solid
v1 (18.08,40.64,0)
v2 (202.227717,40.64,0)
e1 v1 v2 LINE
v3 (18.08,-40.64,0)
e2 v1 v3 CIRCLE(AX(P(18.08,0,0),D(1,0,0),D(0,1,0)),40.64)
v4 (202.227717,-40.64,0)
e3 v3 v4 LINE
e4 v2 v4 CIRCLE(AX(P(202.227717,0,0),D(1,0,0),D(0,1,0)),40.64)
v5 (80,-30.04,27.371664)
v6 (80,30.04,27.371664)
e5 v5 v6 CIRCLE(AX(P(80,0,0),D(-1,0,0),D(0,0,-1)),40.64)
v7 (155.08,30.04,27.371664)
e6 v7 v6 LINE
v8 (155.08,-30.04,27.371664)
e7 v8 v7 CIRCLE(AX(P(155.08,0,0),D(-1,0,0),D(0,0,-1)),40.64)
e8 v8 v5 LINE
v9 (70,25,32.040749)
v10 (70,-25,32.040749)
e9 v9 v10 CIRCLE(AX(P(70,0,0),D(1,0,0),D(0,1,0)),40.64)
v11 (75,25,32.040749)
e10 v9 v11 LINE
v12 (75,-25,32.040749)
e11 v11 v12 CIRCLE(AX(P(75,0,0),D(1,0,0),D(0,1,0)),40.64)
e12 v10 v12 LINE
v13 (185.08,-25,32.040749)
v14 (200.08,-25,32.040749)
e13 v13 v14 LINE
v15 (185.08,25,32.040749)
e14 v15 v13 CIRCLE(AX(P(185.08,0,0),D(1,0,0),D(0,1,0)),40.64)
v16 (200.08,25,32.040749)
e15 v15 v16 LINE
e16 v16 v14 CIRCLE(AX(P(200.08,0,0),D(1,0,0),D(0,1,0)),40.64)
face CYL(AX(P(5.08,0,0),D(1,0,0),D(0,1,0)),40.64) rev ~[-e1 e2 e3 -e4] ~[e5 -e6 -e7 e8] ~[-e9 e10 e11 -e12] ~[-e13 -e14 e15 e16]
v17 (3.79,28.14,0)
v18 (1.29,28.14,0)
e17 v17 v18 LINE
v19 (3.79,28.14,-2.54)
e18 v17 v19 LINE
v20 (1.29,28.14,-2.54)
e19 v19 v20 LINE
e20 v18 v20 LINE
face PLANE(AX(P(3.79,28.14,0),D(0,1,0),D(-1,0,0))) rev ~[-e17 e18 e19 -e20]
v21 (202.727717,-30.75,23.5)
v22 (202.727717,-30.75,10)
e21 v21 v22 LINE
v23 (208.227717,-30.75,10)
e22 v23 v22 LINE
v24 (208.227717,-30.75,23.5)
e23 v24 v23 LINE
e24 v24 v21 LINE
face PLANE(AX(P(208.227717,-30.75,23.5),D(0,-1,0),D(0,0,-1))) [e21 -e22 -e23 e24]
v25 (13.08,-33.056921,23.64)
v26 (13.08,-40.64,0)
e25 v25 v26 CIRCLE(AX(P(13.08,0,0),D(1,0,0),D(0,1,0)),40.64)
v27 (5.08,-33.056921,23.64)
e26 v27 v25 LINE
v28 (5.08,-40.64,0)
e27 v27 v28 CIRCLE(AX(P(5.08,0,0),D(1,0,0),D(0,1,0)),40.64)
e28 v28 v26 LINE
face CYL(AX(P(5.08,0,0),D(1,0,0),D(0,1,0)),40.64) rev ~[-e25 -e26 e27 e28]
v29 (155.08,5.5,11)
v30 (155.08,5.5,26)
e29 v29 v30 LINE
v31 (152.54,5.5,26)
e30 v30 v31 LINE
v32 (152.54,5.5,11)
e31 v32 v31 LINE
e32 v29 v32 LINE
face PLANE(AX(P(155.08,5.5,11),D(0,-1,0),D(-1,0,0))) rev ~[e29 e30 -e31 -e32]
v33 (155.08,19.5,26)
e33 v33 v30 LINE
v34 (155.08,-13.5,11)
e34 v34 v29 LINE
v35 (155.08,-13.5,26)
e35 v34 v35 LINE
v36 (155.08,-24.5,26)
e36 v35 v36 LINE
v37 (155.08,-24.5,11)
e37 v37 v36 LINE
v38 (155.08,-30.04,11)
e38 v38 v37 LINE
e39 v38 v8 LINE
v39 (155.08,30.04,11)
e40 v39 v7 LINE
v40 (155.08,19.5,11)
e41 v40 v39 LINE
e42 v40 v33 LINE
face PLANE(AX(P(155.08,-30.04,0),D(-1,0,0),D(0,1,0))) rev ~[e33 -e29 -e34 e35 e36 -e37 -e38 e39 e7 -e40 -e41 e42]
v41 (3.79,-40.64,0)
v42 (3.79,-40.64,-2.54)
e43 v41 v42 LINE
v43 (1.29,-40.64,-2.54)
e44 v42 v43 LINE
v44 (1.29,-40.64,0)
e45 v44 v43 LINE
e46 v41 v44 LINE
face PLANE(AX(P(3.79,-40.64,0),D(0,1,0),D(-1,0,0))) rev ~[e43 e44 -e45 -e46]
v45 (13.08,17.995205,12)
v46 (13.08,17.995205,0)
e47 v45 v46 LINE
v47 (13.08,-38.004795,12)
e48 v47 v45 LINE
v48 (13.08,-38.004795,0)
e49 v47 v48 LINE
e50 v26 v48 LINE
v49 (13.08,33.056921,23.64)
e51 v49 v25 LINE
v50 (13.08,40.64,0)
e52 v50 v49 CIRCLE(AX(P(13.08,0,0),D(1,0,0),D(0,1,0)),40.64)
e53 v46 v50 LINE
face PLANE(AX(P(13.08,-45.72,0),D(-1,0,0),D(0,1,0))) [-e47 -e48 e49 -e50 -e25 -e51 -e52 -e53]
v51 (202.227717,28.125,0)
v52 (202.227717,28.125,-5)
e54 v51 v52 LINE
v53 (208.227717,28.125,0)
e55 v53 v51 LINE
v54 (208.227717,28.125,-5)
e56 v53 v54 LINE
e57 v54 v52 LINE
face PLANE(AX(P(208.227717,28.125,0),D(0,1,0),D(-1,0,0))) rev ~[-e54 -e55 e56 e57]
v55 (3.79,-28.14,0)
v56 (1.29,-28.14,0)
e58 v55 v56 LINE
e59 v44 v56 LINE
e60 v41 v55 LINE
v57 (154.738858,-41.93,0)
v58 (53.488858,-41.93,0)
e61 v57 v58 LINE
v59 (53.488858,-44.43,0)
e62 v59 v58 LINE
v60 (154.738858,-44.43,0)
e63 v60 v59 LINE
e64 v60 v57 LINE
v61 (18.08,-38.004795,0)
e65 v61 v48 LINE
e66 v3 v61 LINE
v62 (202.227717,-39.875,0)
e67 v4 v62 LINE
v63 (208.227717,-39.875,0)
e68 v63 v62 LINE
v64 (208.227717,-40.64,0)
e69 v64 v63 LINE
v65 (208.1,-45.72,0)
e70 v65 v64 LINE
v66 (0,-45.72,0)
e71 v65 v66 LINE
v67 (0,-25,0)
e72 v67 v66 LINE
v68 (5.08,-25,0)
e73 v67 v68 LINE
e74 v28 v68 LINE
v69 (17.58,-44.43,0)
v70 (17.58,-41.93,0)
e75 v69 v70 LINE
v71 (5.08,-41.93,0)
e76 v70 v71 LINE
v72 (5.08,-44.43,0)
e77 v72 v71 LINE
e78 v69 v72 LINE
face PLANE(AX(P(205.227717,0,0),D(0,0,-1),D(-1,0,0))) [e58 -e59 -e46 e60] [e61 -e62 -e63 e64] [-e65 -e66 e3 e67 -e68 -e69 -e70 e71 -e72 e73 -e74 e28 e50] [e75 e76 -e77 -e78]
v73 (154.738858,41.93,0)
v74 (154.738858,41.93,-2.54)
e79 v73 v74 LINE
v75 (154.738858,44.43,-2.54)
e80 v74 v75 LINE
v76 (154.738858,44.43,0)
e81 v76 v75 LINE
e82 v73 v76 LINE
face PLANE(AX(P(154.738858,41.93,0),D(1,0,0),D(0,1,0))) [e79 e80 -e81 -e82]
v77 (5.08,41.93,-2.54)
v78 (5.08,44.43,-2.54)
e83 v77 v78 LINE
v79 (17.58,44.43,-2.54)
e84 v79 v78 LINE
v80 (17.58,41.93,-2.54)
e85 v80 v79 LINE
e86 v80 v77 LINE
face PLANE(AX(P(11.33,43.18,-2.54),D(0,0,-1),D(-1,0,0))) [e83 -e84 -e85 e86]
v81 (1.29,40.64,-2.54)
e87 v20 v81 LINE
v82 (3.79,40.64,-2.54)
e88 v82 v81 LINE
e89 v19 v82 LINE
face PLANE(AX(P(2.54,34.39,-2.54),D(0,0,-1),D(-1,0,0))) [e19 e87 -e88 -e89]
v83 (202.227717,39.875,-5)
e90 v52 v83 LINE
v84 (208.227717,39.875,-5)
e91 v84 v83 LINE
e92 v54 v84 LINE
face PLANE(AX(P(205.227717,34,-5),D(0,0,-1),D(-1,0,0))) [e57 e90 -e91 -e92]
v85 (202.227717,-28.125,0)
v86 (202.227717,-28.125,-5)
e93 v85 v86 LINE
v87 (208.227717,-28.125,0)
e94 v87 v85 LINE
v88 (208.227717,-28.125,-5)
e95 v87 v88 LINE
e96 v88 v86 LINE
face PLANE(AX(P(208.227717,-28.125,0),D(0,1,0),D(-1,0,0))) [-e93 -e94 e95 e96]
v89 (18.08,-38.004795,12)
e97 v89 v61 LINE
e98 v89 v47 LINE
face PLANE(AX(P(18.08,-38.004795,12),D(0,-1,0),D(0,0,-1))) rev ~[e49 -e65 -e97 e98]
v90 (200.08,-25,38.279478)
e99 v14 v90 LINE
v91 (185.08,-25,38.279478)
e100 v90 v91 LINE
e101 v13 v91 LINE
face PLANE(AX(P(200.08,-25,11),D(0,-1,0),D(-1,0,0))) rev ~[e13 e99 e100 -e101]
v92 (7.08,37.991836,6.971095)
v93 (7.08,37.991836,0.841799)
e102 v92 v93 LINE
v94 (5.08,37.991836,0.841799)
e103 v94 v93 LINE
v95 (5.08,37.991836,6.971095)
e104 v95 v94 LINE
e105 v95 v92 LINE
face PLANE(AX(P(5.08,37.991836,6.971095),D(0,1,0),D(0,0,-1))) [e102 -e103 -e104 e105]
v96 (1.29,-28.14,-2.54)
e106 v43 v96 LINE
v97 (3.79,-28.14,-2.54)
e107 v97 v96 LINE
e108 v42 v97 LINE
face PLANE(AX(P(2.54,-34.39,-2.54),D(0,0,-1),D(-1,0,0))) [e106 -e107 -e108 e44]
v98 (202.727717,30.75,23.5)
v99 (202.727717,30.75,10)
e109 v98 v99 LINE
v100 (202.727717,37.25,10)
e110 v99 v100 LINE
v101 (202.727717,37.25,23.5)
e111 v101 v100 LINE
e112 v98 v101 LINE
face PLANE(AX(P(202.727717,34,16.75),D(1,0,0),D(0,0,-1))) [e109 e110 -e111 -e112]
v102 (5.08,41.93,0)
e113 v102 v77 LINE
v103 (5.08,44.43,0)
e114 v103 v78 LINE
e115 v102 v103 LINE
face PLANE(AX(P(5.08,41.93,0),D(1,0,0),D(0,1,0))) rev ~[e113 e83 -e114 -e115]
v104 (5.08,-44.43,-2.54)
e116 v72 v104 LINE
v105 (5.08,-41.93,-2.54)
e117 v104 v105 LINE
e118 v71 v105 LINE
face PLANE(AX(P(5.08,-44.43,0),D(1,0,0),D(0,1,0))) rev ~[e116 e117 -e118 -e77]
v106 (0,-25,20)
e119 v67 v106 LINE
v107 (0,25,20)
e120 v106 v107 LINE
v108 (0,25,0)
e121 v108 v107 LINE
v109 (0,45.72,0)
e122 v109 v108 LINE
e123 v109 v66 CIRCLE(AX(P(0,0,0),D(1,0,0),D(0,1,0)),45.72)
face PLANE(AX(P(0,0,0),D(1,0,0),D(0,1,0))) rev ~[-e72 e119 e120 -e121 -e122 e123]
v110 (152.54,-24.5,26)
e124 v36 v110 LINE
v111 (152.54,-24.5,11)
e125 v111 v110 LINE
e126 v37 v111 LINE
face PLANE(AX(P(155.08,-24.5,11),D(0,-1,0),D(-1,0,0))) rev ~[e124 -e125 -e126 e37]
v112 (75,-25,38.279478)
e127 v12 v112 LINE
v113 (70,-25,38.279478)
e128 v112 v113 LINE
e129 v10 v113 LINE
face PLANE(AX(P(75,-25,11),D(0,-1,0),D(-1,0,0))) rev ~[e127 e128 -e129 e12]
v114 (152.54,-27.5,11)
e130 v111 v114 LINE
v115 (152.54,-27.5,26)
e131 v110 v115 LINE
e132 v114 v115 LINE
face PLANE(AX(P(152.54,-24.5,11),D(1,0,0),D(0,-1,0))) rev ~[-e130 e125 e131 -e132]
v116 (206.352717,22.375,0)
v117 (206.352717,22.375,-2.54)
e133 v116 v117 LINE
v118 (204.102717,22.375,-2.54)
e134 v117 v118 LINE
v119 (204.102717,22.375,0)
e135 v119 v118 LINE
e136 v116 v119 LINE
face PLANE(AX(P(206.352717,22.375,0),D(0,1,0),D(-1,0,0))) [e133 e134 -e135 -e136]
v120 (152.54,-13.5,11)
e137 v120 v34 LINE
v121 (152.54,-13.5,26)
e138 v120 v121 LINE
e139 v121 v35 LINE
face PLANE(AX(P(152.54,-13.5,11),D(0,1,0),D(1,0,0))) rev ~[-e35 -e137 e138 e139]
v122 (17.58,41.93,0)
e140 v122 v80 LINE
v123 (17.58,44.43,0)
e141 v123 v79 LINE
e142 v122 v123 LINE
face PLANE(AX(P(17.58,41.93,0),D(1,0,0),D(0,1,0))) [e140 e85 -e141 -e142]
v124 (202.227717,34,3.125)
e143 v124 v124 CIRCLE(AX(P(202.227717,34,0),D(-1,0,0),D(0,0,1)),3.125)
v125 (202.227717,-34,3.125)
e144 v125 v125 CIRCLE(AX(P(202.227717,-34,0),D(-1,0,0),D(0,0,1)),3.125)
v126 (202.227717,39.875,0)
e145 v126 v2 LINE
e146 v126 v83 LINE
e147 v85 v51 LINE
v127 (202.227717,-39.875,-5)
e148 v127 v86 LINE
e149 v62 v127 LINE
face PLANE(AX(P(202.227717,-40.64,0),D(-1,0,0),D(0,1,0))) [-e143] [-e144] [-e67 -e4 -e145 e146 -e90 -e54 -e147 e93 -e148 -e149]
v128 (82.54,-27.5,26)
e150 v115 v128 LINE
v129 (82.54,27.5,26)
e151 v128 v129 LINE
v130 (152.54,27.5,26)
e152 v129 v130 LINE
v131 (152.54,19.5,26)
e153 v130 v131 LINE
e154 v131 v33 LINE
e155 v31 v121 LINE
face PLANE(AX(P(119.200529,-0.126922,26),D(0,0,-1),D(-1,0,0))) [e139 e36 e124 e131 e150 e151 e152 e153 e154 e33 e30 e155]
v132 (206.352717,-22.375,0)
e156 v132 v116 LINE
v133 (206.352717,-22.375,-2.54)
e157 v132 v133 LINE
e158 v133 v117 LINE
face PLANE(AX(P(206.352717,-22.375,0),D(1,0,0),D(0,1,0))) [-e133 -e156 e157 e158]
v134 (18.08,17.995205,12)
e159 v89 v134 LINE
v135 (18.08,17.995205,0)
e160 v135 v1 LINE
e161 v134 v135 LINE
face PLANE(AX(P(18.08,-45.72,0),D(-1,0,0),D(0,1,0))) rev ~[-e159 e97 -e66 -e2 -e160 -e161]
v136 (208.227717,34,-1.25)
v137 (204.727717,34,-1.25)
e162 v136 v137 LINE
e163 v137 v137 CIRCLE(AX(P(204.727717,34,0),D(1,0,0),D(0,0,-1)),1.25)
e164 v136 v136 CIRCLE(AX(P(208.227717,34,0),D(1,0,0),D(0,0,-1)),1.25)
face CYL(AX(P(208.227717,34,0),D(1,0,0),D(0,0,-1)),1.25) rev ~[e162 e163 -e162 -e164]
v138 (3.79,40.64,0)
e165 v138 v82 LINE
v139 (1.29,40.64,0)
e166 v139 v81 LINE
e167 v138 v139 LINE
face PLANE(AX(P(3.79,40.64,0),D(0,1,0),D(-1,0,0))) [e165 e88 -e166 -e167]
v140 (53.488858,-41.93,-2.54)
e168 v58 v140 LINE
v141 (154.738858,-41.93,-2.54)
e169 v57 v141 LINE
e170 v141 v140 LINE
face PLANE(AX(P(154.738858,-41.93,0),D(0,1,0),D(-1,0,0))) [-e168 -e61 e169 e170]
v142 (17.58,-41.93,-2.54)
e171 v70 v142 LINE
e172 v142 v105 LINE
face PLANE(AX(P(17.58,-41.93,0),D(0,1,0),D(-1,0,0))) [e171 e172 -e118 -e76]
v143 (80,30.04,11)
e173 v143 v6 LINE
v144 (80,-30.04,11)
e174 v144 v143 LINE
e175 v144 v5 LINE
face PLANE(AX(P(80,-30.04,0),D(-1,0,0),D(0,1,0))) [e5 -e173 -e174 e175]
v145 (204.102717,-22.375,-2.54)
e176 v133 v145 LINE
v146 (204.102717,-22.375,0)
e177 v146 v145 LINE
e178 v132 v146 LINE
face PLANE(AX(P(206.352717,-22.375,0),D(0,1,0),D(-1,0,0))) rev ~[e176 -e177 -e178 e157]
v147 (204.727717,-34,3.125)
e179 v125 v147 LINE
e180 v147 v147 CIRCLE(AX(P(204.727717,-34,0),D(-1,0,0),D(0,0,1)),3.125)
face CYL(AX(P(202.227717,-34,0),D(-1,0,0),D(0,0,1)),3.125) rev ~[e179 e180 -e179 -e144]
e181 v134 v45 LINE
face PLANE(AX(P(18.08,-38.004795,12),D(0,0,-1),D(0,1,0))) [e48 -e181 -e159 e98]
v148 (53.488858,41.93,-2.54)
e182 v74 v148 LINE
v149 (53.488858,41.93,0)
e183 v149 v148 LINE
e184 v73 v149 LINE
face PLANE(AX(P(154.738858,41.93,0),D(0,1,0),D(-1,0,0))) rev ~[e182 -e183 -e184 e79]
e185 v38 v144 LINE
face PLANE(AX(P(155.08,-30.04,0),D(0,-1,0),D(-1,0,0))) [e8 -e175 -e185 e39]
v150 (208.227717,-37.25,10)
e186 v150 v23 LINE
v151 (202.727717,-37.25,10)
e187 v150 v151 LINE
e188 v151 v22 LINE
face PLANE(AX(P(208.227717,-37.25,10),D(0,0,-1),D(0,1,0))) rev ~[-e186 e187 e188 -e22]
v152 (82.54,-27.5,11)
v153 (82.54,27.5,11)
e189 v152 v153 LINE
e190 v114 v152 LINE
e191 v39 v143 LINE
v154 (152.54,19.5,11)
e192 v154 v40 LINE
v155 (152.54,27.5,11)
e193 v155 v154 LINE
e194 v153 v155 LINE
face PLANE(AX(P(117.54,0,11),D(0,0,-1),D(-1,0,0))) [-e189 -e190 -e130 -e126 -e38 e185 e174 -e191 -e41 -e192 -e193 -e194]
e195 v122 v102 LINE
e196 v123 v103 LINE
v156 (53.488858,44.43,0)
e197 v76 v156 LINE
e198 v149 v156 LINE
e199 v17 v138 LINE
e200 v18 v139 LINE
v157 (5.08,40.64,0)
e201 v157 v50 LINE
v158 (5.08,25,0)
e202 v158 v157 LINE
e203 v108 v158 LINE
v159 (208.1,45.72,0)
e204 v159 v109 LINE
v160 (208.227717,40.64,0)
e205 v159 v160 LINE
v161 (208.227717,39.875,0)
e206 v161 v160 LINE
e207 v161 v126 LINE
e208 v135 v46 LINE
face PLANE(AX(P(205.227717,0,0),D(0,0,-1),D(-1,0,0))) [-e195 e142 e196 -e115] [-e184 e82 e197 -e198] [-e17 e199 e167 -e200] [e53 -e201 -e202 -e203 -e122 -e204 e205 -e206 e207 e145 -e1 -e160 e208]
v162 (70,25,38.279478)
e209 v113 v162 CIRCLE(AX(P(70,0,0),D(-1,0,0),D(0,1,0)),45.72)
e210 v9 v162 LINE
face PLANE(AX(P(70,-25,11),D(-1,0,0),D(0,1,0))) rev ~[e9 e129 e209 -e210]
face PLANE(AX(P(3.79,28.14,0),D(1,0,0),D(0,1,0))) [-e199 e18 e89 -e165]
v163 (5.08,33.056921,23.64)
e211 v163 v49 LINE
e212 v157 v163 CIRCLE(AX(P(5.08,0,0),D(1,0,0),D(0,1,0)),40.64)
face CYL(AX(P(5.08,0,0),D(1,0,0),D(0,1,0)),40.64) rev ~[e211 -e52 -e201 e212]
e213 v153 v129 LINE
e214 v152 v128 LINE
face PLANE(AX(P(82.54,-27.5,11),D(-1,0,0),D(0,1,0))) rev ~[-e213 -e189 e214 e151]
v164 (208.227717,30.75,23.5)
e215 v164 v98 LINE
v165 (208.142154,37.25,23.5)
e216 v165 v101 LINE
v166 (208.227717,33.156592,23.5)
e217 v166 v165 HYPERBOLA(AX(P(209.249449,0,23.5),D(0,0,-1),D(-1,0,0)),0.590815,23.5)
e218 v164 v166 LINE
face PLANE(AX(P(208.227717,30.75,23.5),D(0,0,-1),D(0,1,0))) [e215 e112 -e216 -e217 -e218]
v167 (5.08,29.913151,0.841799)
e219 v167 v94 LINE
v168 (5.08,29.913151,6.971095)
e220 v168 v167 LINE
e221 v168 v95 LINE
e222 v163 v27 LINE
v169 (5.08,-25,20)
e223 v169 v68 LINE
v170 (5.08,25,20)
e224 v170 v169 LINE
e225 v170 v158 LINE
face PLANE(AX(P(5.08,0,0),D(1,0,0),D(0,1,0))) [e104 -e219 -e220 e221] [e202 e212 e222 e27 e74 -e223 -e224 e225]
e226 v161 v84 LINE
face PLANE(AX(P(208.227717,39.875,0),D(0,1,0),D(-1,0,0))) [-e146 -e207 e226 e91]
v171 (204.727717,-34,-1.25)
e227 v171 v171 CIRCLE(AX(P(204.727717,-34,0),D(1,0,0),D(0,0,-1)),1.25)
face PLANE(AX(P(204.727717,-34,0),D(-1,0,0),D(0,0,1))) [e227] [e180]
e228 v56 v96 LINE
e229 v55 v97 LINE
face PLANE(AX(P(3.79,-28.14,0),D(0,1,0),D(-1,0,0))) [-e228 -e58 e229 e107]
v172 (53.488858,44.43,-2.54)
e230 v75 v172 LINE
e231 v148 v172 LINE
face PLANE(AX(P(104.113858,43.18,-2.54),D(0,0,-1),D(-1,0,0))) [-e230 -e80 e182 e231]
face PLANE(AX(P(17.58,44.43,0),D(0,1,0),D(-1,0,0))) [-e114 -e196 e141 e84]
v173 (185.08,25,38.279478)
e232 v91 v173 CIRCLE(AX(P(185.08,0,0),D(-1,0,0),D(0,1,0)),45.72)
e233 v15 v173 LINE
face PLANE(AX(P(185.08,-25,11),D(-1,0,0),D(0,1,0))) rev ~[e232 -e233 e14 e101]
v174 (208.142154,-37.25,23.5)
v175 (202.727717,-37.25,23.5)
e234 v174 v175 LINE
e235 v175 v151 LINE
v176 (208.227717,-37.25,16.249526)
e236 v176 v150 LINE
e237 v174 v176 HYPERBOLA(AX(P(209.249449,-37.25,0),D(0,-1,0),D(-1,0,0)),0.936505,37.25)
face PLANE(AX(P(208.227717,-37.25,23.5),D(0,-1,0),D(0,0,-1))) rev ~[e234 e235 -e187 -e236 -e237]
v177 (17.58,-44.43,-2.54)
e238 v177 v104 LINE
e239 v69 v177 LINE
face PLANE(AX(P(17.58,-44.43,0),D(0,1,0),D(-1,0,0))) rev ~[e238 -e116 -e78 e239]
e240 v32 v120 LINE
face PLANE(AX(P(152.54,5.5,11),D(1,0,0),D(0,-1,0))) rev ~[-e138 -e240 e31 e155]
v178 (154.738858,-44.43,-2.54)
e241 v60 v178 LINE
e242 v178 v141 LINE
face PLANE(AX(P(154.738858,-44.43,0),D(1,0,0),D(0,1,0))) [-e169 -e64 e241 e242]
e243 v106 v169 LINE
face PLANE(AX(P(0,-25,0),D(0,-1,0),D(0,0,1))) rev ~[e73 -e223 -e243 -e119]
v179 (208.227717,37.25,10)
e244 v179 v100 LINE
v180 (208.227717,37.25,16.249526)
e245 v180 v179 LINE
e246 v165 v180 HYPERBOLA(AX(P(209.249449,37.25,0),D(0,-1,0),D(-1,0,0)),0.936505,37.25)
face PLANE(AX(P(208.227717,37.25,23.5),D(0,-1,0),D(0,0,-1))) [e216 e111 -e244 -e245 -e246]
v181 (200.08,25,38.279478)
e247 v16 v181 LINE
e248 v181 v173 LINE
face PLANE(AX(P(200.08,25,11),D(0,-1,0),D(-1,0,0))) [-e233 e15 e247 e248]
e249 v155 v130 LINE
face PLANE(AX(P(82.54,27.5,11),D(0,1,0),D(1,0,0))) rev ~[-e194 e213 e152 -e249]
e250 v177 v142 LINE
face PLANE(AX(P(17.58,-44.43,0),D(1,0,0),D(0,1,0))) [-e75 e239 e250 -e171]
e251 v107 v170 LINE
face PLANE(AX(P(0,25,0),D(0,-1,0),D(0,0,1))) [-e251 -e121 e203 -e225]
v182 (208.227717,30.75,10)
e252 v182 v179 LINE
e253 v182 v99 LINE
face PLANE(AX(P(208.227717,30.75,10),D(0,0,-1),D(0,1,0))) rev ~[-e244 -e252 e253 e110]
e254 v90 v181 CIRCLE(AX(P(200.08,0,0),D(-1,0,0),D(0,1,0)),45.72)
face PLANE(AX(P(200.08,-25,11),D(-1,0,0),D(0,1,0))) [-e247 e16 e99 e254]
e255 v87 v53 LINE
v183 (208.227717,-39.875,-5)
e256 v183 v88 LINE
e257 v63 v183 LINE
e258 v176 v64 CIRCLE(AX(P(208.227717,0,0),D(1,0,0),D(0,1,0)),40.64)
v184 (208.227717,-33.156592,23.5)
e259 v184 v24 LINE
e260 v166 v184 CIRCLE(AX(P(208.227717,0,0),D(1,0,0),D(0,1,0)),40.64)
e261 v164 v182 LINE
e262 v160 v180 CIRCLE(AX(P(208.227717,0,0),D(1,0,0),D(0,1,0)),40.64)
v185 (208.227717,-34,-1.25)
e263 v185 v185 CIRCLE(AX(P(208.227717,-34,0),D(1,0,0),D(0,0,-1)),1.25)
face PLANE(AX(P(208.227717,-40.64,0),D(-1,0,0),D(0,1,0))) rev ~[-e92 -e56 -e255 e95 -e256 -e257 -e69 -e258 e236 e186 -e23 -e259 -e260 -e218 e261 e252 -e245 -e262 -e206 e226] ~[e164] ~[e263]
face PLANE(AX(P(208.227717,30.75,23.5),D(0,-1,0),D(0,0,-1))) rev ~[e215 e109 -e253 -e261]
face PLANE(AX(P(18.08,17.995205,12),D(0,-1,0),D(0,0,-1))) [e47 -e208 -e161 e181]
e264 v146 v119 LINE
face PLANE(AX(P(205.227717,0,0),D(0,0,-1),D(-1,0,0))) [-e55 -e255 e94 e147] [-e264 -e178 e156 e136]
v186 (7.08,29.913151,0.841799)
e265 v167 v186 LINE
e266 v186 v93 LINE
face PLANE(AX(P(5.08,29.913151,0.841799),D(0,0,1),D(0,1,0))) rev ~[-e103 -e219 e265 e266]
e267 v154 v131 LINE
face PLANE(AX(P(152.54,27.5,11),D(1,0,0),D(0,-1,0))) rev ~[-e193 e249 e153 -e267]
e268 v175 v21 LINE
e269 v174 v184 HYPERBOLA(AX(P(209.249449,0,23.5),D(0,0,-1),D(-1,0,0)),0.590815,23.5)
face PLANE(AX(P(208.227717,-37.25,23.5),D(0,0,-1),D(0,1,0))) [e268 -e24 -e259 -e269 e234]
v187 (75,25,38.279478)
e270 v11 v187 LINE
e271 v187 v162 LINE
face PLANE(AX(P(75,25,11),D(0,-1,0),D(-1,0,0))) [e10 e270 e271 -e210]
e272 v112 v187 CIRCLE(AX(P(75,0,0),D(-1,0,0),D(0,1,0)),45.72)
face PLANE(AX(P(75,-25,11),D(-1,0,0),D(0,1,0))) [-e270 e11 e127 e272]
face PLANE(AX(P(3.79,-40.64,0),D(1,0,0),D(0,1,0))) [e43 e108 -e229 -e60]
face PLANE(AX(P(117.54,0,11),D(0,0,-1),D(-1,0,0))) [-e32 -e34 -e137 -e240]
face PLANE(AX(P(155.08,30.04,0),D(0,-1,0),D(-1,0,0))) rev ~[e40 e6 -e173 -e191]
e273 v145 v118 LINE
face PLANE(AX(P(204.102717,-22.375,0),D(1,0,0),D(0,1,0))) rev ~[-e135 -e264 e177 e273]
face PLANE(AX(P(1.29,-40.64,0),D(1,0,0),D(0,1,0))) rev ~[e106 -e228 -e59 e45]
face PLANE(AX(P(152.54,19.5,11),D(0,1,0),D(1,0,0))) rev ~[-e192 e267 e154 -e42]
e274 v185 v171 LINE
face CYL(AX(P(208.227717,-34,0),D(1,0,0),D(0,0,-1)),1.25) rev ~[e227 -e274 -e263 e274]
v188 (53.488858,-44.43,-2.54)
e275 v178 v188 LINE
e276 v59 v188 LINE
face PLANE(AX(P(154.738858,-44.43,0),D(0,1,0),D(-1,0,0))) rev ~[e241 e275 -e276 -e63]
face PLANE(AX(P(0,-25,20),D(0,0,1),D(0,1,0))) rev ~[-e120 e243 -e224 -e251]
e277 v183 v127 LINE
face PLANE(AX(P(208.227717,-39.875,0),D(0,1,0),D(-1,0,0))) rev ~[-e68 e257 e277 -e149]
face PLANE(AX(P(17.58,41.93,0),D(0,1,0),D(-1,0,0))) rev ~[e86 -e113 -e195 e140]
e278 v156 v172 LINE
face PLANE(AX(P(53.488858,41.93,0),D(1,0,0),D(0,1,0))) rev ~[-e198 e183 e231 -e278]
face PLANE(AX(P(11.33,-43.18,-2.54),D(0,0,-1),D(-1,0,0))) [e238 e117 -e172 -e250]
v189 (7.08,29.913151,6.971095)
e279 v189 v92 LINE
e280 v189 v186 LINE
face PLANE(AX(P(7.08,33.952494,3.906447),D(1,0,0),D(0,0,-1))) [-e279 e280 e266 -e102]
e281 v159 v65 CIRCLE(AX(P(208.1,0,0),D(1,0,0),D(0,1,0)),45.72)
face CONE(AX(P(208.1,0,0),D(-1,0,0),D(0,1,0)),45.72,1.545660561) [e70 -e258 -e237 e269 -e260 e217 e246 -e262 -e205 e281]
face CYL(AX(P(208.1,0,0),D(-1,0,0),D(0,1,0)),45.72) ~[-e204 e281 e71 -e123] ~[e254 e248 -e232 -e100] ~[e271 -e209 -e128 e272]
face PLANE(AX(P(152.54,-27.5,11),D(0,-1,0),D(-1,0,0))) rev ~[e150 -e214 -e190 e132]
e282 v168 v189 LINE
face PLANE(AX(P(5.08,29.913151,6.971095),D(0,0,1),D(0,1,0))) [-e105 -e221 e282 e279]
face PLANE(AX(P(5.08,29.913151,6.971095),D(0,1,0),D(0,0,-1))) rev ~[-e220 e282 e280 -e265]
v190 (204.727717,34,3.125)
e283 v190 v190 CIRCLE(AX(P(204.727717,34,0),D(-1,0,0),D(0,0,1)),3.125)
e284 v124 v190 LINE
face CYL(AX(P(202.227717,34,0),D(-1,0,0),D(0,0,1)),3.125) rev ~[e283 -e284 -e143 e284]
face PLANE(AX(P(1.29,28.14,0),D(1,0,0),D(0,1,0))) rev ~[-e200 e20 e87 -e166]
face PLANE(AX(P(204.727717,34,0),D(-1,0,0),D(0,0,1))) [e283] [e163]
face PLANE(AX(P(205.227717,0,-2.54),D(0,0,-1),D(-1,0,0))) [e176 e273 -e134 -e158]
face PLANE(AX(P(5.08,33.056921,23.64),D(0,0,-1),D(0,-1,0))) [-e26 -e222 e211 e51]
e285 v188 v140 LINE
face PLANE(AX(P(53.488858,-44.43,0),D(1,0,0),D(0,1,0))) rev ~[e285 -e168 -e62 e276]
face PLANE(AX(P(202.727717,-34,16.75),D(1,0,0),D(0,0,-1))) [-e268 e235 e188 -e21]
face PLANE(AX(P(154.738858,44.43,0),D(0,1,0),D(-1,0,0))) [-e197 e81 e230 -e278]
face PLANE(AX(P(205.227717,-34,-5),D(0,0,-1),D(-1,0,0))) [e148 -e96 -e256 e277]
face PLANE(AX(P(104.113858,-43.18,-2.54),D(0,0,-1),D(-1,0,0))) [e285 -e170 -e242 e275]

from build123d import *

# Parameters (mm, degrees)
REVOLVE2_ANGLE           = 180
SKETCH5_W                = 2.5
SKETCH5_H                = 12.5
SKETCH5_W_2              = 101.25
SKETCH5_H_2              = 2.5
SKETCH5_W_3              = 12.5
BOSS_EXTRUDE1_DEPTH      = 2.54
SKETCH7_W                = 20
SKETCH7_H                = 50
CUT_EXTRUDE1_DEPTH       = 7
BOSS_EXTRUDE3_REACH      = 220.035
SKETCH8_W                = 5
SKETCH8_H                = 91.44
SKETCH9_W                = 6.129296028
SKETCH9_H                = 8.078685473
BOSS_EXTRUDE4_DEPTH      = 2
BOSS_EXTRUDE7_START      = 8
BOSS_EXTRUDE7_DEPTH      = 8
BOSS_EXTRUDE8_REACH      = 220.035
BOSS_EXTRUDE8_END_RADIUS = 40.64
SKETCH13_W               = 75.08
SKETCH13_H               = 60.08
SKETCH13_W_2             = 70
SKETCH13_H_2             = 55
SKETCH14_W               = 75.08
SKETCH14_H               = 60.08
CUT_EXTRUDE3_DEPTH       = 11
BOSS_EXTRUDE9_REACH      = 217.997
SKETCH15_W               = 70
SKETCH15_H               = 55
CUT_EXTRUDE5_DEPTH       = 15
CUT_EXTRUDE6_REACH       = 202.84
SKETCH18_W               = 12
SKETCH18_H               = 56
BOSS_EXTRUDE10_REACH     = 220.035
SKETCH23_W               = 6
SKETCH23_H               = 81.28
SKETCH26_W               = 6
SKETCH26_H               = 11.75
BOSS_EXTRUDE11_DEPTH     = 5
SKETCH27_W               = 13.5
SKETCH27_H               = 6.5
CUT_EXTRUDE7_DEPTH       = 5.5
CUT_EXTRUDE8_REACH       = 220.035
SKETCH28_R               = 1.25
SKETCH29_R               = 3.125
CUT_EXTRUDE9_DEPTH       = 2.5
SKETCH30_W               = 5
SKETCH30_H               = 50
SKETCH30_W_2             = 15
CUT_EXTRUDE10_DEPTH      = 216.996710059
SKETCH32_W               = 2.25
SKETCH32_H               = 44.75
BOSS_EXTRUDE12_DEPTH     = 2.54


with BuildPart() as part:
    # Sketch2 → Revolve2 (revolve)
    with BuildSketch(Plane.XY):
        Polygon((0, 0), (0, 40.64), (0, 45.72), (25.4, 45.72), (195.4, 45.72), (208.1, 45.72), (208.22771659, 40.64), (195.52771659, 40.64), (25.4, 40.64), (5.08, 40.64), (5.08, 0), align=None)
    revolve(axis=Axis((0, 0, 0), (1, 0, 0)), revolution_arc=REVOLVE2_ANGLE)

    # Sketch5 → Boss-Extrude1 (add)
    with BuildSketch(Plane(origin=(0, 0, 0), x_dir=(-1, 0, 0), z_dir=(0, 0, -1))):
        with Locations((-2.54, 34.39)):
            Rectangle(SKETCH5_W, SKETCH5_H)
        with Locations((-104.113858295, -43.18)):
            Rectangle(SKETCH5_W_2, SKETCH5_H_2)
        with Locations((-11.33, 43.18)):
            Rectangle(SKETCH5_W_3, SKETCH5_H_2)
        with Locations((-104.113858295, 43.18)):
            Rectangle(SKETCH5_W_2, SKETCH5_H_2)
        with Locations((-11.33, -43.18)):
            Rectangle(SKETCH5_W_3, SKETCH5_H_2)
        with Locations((-2.54, -34.39)):
            Rectangle(SKETCH5_W, SKETCH5_H)
    extrude(amount=BOSS_EXTRUDE1_DEPTH)

    # Sketch7 → Cut-Extrude1 (cut)
    with BuildSketch(Plane.ZY):
        with Locations((10, 0)):
            Rectangle(SKETCH7_W, SKETCH7_H)
    extrude(amount=-CUT_EXTRUDE1_DEPTH, mode=Mode.SUBTRACT)

    # Sketch8 → Boss-Extrude3 (add, up to next)
    with BuildSketch(Plane(origin=(0, 0, 0), x_dir=(-1, 0, 0), z_dir=(0, 0, -1)), mode=Mode.PRIVATE) as boss_extrude3_sk1:
        with Locations((-15.58, 0)):
            Rectangle(SKETCH8_W, SKETCH8_H)
    boss_extrude3_tool1 = extrude(boss_extrude3_sk1.sketch, amount=-BOSS_EXTRUDE3_REACH, mode=Mode.PRIVATE) - part.part
    add(boss_extrude3_tool1.solids().sort_by_distance((15.58, 0, 0))[0])

    # Sketch9 → Boss-Extrude4 (add)
    with BuildSketch(Plane(origin=(5.08, 0, 0), x_dir=(0, 0, -1), z_dir=(1, 0, 0))):
        with Locations((-3.906446672, 33.952493663)):
            Rectangle(SKETCH9_W, SKETCH9_H)
    extrude(amount=BOSS_EXTRUDE4_DEPTH)

    # Sketch12 → Boss-Extrude7 (add)
    with BuildSketch(Plane.ZY.offset(-13.08).offset(BOSS_EXTRUDE7_START)):
        with BuildLine():
            Line((23.64, 33.056920607), (23.64, -33.056920607))
            ThreePointArc((23.64, -33.056920607), (40.64, 0), (23.64, 33.056920607))
        make_face()
    extrude(amount=-BOSS_EXTRUDE7_DEPTH)

    # Boss-Extrude8: up to this cylinder (the profile starts inside it)
    boss_extrude8_end = Plane(origin=(117.54, 0, 0), z_dir=(-1, 0, 0)) * Cylinder(BOSS_EXTRUDE8_END_RADIUS, 522.35, mode=Mode.PRIVATE)
    # Sketch13 → Boss-Extrude8 (add, up to the surface)
    with BuildSketch(Plane(origin=(0, 0, 0), x_dir=(-1, 0, 0), z_dir=(0, 0, -1)), mode=Mode.PRIVATE) as boss_extrude8_sk1:
        with Locations((-117.54, 0)):
            Rectangle(SKETCH13_W, SKETCH13_H)
        with Locations((-117.54, 0)):
            Rectangle(SKETCH13_W_2, SKETCH13_H_2, mode=Mode.SUBTRACT)
    boss_extrude8_tool1 = extrude(boss_extrude8_sk1.sketch, amount=-BOSS_EXTRUDE8_REACH, mode=Mode.PRIVATE) & boss_extrude8_end
    add(boss_extrude8_tool1.solids().sort_by_distance((117.54, 29.078407, 0))[0])

    # Sketch14 → Cut-Extrude3 (cut)
    with BuildSketch(Plane(origin=(0, 0, 0), x_dir=(-1, 0, 0), z_dir=(0, 0, -1))):
        with Locations((-117.54, 0)):
            Rectangle(SKETCH14_W, SKETCH14_H)
    extrude(amount=-CUT_EXTRUDE3_DEPTH, mode=Mode.SUBTRACT)

    # Sketch15 → Boss-Extrude9 (add, up to next)
    with BuildSketch(Plane(origin=(0, 0, 11), x_dir=(-1, 0, 0), z_dir=(0, 0, -1)), mode=Mode.PRIVATE) as boss_extrude9_sk1:
        with Locations((-117.54, 0)):
            Rectangle(SKETCH15_W, SKETCH15_H)
    boss_extrude9_tool1 = extrude(boss_extrude9_sk1.sketch, amount=-BOSS_EXTRUDE9_REACH, mode=Mode.PRIVATE) - part.part
    add(boss_extrude9_tool1.solids().sort_by_distance((117.54, 0, 11))[0])

    # Sketch17 → Cut-Extrude5 (cut)
    with BuildSketch(Plane(origin=(0, 0, 11), x_dir=(-1, 0, 0), z_dir=(0, 0, -1))):
        Polygon((-82.54, 27.5), (-152.54, 27.5), (-152.54, 19.5), (-155.08, 19.5), (-155.08, 5.5), (-152.54, 5.5), (-152.54, -13.5), (-155.08, -13.5), (-155.08, -24.5), (-152.54, -24.5), (-152.54, -27.5), (-82.54, -27.5), align=None)
    extrude(amount=-CUT_EXTRUDE5_DEPTH, mode=Mode.SUBTRACT)

    # Sketch18 → Cut-Extrude6 (cut, up to next)
    with BuildSketch(Plane(origin=(18.08, 0, 0), x_dir=(0, 0, -1), z_dir=(1, 0, 0)), mode=Mode.PRIVATE) as cut_extrude6_sk1:
        with Locations((-6, -10.004795356)):
            Rectangle(SKETCH18_W, SKETCH18_H)
    cut_extrude6_tool1 = extrude(cut_extrude6_sk1.sketch, amount=-CUT_EXTRUDE6_REACH, mode=Mode.PRIVATE) & part.part
    add(cut_extrude6_tool1.solids().sort_by_distance((18.08, -10.004795, 6))[0], mode=Mode.SUBTRACT)

    # Sketch23 → Boss-Extrude10 (add, up to next)
    with BuildSketch(Plane(origin=(0, 0, 0), x_dir=(-1, 0, 0), z_dir=(0, 0, -1)), mode=Mode.PRIVATE) as boss_extrude10_sk1:
        with Locations((-205.22771659, 0)):
            Rectangle(SKETCH23_W, SKETCH23_H)
    boss_extrude10_tool1 = extrude(boss_extrude10_sk1.sketch, amount=-BOSS_EXTRUDE10_REACH, mode=Mode.PRIVATE) - part.part
    add(boss_extrude10_tool1.solids().sort_by_distance((205.227717, 0, 0))[0])

    # Sketch26 → Boss-Extrude11 (add)
    with BuildSketch(Plane(origin=(0, 0, 0), x_dir=(-1, 0, 0), z_dir=(0, 0, -1))):
        with Locations((-205.22771659, 34)):
            Rectangle(SKETCH26_W, SKETCH26_H)
        with Locations((-205.22771659, -34)):
            Rectangle(SKETCH26_W, SKETCH26_H)
    extrude(amount=BOSS_EXTRUDE11_DEPTH)

    # Sketch27 → Cut-Extrude7 (cut)
    with BuildSketch(Plane(origin=(208.22771659, 0, 0), x_dir=(0, 0, -1), z_dir=(1, 0, 0))):
        with Locations((-16.75, -34)):
            Rectangle(SKETCH27_W, SKETCH27_H)
        with Locations((-16.75, 34)):
            Rectangle(SKETCH27_W, SKETCH27_H)
    extrude(amount=-CUT_EXTRUDE7_DEPTH, mode=Mode.SUBTRACT)

    # Sketch28 → Cut-Extrude8 (cut, up to next)
    with BuildSketch(Plane(origin=(208.22771659, 0, 0), x_dir=(0, 0, -1), z_dir=(1, 0, 0)), mode=Mode.PRIVATE) as cut_extrude8_sk1:
        with Locations((0, 34)):
            Circle(SKETCH28_R)
    cut_extrude8_tool1 = extrude(cut_extrude8_sk1.sketch, amount=-CUT_EXTRUDE8_REACH, mode=Mode.PRIVATE) & part.part
    # Sketch28 → Cut-Extrude8 (cut, up to next)
    with BuildSketch(Plane(origin=(208.22771659, 0, 0), x_dir=(0, 0, -1), z_dir=(1, 0, 0)), mode=Mode.PRIVATE) as cut_extrude8_sk2:
        with Locations((0, -34)):
            Circle(SKETCH28_R)
    cut_extrude8_tool2 = extrude(cut_extrude8_sk2.sketch, amount=-CUT_EXTRUDE8_REACH, mode=Mode.PRIVATE) & part.part
    add(cut_extrude8_tool1.solids().sort_by_distance((208.227717, 34, 0))[0], mode=Mode.SUBTRACT)
    add(cut_extrude8_tool2.solids().sort_by_distance((208.227717, -34, 0))[0], mode=Mode.SUBTRACT)

    # Sketch29 → Cut-Extrude9 (cut)
    with BuildSketch(Plane.ZY.offset(-202.22771659)):
        with Locations((0, -34)):
            Circle(SKETCH29_R)
        with Locations((0, 34)):
            Circle(SKETCH29_R)
    extrude(amount=-CUT_EXTRUDE9_DEPTH, mode=Mode.SUBTRACT)

    # Sketch30 → Cut-Extrude10 (cut, through all)
    with BuildSketch(Plane(origin=(0, 0, 11), x_dir=(-1, 0, 0), z_dir=(0, 0, -1))):
        with Locations((-72.5, 0)):
            Rectangle(SKETCH30_W, SKETCH30_H)
        with Locations((-192.58, 0)):
            Rectangle(SKETCH30_W_2, SKETCH30_H)
    extrude(amount=-CUT_EXTRUDE10_DEPTH, mode=Mode.SUBTRACT)

    # Sketch32 → Boss-Extrude12 (add)
    with BuildSketch(Plane(origin=(0, 0, 0), x_dir=(-1, 0, 0), z_dir=(0, 0, -1))):
        with Locations((-205.22771659, 0)):
            Rectangle(SKETCH32_W, SKETCH32_H)
    extrude(amount=BOSS_EXTRUDE12_DEPTH)


solid = part.part
